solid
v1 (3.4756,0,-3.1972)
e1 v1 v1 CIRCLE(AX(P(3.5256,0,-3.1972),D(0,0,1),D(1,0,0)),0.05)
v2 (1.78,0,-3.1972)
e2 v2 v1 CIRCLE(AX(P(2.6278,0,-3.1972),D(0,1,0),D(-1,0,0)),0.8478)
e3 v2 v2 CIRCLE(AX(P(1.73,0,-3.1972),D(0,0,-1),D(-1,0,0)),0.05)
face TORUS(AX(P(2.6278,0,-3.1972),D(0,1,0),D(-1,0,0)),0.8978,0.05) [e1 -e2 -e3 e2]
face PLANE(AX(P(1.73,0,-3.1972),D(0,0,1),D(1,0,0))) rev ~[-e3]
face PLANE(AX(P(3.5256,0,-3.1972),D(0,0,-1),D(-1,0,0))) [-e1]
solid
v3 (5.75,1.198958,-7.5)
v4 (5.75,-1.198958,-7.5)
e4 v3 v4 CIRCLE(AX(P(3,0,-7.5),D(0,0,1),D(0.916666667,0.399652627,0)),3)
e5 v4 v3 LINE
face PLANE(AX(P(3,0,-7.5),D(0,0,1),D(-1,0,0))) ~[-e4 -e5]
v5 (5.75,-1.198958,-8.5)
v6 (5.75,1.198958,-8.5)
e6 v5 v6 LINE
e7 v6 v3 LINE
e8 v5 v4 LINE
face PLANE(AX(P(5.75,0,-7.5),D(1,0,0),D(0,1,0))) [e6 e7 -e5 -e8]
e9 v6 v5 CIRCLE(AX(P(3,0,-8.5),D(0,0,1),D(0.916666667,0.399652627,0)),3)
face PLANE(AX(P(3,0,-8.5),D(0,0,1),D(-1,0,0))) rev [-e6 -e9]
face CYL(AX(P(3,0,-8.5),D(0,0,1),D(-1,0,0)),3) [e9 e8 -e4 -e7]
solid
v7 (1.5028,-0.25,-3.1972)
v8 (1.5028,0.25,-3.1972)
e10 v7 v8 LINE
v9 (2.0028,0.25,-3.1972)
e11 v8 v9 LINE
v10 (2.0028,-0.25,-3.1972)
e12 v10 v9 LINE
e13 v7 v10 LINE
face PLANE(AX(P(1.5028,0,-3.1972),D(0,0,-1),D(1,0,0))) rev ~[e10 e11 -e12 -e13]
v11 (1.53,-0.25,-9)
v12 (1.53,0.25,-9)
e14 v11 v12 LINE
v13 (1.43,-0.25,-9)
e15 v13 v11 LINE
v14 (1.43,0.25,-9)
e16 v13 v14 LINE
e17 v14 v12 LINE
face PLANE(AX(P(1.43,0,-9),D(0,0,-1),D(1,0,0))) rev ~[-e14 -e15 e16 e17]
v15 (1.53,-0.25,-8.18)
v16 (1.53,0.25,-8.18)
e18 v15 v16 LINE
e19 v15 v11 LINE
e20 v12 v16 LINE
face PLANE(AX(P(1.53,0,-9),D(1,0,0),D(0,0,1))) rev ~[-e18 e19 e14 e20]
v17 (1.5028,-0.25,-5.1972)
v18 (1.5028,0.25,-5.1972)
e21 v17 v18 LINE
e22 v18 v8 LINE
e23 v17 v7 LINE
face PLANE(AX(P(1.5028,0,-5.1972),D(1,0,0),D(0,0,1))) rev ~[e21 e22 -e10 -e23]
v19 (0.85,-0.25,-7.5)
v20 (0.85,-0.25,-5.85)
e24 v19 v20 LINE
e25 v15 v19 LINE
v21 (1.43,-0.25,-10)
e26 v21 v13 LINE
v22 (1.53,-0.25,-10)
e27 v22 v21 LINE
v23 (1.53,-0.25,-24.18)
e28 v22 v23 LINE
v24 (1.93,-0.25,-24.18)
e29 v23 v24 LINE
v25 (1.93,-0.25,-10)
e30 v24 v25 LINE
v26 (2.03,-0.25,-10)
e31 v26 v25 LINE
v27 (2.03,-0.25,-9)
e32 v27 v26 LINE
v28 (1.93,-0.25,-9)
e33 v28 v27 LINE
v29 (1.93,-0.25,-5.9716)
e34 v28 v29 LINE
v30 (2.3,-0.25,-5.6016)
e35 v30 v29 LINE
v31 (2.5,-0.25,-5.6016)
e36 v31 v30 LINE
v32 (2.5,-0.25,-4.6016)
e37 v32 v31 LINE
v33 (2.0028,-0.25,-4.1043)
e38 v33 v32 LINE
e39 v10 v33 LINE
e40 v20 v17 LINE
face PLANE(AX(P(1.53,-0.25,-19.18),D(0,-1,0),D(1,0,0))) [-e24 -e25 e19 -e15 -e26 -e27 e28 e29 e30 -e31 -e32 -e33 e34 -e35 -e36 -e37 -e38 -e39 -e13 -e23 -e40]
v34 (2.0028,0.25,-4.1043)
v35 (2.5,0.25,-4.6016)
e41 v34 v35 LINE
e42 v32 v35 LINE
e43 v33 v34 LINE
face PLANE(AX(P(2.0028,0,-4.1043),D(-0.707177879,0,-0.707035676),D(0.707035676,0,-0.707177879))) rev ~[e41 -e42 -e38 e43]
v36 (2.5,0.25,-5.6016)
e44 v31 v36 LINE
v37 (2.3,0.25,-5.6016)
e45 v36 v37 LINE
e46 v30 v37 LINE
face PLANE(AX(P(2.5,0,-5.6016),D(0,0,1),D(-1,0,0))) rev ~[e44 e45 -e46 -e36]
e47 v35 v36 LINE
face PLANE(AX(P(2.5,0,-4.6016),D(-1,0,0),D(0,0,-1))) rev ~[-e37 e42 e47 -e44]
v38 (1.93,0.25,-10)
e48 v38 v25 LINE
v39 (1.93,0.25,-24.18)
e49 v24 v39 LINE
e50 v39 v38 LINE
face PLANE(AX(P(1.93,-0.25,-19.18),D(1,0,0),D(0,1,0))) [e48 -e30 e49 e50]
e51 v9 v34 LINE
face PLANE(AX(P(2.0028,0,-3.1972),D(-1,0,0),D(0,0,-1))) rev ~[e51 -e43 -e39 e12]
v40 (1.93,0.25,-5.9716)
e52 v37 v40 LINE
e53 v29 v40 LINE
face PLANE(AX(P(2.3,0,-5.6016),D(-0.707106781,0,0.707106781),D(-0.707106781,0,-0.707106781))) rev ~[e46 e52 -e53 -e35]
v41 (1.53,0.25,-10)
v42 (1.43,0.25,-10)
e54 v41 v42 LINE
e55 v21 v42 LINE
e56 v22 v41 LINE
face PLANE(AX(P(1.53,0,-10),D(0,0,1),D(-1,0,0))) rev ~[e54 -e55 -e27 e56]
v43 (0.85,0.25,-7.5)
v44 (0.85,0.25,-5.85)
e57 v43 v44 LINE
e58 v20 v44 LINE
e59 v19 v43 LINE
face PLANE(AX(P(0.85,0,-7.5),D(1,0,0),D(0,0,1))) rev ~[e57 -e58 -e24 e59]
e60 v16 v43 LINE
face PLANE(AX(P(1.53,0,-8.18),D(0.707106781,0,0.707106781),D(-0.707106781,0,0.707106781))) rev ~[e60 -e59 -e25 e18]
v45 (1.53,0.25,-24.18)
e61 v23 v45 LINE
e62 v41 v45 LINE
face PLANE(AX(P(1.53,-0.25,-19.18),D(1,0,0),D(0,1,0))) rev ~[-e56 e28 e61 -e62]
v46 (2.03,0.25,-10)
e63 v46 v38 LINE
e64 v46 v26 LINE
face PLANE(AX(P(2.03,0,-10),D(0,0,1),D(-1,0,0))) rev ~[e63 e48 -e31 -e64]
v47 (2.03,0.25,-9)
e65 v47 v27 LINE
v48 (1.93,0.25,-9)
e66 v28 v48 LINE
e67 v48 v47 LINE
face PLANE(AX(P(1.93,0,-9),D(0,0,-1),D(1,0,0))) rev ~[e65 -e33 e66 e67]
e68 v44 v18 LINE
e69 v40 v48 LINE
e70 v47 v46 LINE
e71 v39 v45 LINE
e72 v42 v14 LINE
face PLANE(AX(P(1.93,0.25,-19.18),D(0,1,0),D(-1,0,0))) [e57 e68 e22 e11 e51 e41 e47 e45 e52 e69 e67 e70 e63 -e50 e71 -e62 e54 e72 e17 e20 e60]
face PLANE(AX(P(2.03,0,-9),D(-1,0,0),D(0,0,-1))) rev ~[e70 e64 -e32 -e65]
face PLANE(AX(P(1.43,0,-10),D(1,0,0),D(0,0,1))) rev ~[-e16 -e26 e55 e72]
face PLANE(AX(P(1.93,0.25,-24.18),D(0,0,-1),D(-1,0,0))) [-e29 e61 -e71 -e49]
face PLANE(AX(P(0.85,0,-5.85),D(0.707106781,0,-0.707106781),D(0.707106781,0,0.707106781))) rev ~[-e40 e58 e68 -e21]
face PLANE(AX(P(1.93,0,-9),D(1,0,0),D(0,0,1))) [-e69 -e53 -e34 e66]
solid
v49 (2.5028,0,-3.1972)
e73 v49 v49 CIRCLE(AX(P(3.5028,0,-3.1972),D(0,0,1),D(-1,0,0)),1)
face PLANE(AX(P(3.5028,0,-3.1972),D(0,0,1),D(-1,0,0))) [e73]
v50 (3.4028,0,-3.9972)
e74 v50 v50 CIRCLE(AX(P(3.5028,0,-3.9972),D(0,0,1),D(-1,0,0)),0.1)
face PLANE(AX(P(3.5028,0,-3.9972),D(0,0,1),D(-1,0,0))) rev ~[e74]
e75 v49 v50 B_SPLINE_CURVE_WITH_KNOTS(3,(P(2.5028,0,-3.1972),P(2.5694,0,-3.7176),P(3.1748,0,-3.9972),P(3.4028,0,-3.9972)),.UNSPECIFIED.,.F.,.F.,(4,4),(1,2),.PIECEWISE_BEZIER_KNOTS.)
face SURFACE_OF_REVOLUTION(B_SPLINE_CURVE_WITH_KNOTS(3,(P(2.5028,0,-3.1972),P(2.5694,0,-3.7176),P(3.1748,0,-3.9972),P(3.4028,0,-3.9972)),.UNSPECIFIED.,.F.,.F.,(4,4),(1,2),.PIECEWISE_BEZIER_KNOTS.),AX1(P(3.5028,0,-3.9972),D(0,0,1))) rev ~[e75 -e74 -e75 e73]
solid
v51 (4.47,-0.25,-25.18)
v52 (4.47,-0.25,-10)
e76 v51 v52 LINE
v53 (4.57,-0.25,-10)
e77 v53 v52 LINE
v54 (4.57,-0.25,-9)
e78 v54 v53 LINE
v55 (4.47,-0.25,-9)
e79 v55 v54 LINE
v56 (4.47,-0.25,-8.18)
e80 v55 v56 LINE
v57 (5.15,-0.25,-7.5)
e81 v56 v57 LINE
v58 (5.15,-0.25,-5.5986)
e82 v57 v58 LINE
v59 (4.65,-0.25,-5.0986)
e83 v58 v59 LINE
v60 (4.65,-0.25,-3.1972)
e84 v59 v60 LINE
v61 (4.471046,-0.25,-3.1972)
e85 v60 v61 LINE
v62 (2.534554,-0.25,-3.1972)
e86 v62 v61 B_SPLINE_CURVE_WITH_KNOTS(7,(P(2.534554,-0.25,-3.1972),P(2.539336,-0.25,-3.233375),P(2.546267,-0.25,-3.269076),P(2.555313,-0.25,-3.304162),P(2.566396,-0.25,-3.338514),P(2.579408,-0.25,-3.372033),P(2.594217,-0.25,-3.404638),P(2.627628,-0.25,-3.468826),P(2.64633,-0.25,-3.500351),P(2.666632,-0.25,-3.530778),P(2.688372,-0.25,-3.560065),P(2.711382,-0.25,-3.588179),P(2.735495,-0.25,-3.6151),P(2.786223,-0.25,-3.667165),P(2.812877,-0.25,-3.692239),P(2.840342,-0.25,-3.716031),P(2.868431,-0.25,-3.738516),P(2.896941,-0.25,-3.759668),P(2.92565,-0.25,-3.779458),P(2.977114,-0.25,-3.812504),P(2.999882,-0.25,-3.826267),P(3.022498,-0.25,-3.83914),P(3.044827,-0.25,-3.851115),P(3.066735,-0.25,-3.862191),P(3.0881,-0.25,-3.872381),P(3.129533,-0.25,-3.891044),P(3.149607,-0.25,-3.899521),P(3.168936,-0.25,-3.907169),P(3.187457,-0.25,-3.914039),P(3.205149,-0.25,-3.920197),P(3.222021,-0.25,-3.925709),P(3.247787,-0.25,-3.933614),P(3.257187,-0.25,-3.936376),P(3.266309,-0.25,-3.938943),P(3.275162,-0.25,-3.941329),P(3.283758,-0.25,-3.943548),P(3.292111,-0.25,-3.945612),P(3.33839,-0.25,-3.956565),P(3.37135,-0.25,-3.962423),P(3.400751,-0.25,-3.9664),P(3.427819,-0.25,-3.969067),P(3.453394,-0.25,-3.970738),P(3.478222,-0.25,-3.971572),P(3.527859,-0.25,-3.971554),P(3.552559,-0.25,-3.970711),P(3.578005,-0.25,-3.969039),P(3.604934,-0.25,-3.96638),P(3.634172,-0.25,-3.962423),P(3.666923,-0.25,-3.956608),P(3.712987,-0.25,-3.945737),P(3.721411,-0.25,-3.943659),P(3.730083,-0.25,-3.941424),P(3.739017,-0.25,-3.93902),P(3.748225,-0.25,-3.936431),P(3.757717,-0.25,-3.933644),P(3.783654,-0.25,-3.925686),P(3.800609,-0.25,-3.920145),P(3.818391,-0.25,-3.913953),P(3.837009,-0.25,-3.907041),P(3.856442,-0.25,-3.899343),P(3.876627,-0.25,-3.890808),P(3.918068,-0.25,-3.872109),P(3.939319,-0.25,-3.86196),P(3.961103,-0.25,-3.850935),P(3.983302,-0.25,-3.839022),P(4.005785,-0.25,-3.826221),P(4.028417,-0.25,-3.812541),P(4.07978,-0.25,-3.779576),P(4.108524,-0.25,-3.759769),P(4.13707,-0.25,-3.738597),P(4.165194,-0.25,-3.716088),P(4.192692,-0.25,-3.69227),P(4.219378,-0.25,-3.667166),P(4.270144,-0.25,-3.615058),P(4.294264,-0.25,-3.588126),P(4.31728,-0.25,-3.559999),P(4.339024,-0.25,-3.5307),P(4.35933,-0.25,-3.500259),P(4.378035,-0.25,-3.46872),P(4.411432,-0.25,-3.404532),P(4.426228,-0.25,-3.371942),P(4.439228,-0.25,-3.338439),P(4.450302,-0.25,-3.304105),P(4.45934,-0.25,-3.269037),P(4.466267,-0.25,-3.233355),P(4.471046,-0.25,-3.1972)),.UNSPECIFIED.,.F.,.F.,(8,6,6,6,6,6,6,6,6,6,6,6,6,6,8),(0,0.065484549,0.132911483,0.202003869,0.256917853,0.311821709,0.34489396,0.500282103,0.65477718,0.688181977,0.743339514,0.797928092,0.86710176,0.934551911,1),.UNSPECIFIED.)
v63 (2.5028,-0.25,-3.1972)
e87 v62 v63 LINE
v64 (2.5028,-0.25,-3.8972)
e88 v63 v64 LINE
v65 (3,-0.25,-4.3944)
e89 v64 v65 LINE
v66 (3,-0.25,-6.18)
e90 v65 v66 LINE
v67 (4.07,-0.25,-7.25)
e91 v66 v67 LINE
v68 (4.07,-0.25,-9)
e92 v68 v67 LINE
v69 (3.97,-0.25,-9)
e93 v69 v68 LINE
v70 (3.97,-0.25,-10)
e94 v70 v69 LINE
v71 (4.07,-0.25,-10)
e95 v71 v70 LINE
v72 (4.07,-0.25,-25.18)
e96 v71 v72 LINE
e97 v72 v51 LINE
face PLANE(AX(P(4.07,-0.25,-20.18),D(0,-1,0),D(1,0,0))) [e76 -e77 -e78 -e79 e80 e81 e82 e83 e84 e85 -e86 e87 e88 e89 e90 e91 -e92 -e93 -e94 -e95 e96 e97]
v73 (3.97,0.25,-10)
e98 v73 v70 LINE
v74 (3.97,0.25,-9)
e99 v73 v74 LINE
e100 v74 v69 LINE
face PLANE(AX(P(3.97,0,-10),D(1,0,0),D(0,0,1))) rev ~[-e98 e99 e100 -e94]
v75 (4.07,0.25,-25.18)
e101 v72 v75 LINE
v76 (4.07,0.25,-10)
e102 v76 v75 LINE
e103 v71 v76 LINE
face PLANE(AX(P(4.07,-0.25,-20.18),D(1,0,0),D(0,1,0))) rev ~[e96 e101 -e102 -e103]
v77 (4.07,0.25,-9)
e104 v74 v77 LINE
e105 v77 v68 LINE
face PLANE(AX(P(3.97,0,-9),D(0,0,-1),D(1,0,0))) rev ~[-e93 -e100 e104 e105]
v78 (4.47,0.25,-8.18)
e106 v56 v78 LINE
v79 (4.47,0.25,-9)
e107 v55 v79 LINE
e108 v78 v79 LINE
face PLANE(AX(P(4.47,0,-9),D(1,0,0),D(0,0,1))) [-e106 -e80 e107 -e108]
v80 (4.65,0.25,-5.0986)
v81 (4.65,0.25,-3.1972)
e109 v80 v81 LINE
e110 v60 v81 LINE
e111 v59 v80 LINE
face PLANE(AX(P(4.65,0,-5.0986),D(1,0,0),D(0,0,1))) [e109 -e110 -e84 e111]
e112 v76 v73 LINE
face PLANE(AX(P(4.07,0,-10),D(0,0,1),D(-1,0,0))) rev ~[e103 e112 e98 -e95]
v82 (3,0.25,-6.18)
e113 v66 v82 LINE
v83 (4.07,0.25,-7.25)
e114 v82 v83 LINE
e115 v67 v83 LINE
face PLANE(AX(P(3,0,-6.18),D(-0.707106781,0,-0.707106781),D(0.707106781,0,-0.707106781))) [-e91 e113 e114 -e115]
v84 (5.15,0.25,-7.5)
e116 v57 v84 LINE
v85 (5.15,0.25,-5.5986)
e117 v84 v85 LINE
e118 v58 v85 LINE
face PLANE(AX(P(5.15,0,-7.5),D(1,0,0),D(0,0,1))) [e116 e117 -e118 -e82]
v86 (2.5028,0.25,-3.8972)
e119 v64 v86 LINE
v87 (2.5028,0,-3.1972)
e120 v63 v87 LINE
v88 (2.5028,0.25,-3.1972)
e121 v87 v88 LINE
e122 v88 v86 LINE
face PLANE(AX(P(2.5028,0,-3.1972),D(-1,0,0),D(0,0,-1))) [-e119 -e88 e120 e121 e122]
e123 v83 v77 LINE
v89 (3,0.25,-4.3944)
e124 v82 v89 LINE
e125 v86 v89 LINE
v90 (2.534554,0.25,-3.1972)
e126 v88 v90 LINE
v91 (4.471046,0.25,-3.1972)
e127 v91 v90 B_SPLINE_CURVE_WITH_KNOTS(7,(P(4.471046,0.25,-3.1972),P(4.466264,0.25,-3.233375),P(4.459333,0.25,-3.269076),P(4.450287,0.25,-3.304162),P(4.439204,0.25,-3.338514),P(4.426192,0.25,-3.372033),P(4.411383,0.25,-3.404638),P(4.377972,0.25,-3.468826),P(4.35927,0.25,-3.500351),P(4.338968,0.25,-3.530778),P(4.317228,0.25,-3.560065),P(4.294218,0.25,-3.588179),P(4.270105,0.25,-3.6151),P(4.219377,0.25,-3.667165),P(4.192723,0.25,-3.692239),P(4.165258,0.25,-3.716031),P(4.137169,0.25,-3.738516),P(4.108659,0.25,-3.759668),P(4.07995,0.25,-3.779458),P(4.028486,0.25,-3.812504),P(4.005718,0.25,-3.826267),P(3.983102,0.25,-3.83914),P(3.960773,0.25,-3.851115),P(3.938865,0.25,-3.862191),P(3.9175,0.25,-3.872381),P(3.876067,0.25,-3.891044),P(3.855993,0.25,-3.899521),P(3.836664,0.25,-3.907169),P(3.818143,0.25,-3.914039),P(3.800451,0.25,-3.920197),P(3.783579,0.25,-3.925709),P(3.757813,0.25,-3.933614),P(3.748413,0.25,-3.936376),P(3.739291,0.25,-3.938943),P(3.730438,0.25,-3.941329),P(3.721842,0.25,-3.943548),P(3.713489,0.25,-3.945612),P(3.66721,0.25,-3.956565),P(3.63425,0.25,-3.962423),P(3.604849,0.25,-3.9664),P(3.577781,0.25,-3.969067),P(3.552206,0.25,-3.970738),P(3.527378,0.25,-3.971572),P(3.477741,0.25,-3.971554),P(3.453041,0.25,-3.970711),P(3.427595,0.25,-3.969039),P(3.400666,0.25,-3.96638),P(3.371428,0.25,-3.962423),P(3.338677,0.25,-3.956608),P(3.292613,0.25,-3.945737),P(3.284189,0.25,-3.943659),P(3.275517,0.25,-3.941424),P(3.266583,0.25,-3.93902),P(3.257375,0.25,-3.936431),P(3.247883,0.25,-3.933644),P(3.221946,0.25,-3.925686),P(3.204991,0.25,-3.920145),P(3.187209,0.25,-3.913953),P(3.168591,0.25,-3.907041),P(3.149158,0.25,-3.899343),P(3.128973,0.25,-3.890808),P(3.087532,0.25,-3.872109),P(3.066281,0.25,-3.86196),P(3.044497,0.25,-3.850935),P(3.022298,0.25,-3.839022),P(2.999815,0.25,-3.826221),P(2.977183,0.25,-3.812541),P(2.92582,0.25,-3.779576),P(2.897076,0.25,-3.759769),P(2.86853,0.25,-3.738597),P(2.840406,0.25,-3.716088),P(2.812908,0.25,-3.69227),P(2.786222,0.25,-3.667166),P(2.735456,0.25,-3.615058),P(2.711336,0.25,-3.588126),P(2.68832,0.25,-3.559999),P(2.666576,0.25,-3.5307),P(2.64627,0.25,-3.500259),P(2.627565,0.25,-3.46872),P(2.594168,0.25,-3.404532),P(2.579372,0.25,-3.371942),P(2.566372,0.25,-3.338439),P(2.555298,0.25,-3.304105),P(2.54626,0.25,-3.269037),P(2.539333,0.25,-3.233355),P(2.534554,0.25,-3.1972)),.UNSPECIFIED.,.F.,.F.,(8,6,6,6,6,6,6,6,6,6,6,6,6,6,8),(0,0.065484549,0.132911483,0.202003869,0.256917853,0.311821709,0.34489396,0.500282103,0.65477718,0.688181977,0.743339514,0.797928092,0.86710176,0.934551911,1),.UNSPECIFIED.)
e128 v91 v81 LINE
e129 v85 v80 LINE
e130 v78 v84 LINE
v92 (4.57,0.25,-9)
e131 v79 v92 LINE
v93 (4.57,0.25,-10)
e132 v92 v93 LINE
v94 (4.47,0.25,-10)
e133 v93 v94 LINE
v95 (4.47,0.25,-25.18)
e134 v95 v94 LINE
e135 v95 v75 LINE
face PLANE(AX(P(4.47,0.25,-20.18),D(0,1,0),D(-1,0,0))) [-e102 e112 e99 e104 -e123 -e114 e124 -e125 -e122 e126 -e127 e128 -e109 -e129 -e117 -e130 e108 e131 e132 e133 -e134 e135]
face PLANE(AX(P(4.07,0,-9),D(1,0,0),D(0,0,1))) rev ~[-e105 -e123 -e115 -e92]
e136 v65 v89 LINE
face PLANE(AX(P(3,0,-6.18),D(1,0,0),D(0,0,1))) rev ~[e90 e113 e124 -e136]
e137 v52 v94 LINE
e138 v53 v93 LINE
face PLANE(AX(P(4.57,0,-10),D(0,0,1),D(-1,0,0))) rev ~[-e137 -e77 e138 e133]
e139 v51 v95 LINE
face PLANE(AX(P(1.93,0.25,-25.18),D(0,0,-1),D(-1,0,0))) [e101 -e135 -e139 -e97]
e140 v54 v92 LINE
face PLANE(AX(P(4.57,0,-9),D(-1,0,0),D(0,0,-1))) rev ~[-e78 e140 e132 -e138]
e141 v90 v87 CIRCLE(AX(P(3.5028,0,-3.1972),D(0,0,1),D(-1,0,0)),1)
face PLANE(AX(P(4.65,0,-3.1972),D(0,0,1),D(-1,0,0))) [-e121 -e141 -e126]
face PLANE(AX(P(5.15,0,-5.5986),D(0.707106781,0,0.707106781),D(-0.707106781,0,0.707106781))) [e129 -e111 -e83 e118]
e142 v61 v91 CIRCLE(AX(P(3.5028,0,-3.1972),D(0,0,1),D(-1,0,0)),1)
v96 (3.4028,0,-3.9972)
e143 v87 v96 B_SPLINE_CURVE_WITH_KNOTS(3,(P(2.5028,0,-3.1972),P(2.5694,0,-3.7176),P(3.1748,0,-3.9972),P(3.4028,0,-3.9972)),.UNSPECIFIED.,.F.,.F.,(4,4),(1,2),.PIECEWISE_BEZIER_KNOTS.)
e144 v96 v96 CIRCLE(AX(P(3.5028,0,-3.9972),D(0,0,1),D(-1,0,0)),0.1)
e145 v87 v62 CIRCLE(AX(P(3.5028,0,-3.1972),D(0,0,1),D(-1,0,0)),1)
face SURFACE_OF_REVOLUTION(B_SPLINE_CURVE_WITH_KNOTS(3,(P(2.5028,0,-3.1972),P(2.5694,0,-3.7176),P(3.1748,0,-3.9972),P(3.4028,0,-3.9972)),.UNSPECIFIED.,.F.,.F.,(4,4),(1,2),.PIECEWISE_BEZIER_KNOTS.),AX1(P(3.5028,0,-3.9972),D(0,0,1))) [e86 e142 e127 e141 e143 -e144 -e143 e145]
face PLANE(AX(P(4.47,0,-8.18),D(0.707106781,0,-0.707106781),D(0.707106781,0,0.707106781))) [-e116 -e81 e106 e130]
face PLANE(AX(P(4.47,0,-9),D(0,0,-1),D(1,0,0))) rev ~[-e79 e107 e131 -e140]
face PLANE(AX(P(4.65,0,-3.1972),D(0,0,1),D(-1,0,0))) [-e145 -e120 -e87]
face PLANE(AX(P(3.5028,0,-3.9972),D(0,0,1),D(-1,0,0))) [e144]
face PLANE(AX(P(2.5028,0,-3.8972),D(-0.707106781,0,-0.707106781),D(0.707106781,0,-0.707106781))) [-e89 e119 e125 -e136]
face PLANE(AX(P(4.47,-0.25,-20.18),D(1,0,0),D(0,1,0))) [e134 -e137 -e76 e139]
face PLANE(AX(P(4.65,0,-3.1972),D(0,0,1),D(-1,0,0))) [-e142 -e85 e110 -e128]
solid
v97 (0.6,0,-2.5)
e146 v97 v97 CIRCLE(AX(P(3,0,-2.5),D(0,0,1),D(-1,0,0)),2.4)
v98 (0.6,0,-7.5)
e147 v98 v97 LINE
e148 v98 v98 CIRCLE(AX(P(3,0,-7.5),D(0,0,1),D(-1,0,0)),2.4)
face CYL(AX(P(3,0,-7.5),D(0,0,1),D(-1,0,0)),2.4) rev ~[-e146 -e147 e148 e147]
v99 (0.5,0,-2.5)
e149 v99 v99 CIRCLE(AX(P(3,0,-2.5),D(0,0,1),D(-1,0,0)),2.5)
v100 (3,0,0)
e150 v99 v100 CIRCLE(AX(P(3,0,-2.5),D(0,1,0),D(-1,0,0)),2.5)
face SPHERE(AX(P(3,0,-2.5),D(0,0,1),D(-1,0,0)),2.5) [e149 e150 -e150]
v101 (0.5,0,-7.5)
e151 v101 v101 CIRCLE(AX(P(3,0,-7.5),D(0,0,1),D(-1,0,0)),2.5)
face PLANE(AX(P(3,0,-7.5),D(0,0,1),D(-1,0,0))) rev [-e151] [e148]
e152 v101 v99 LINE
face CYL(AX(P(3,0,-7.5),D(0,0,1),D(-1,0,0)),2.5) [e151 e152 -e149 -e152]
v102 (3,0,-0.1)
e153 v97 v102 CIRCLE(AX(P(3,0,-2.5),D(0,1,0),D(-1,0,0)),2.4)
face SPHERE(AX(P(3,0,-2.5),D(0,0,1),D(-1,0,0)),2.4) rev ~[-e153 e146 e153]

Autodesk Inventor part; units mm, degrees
ref_plane "YZ Plane" through (0, 0, 0) normal (1, 0, 0) x (0, 1, 0)
ref_plane "XZ Plane" through (0, 0, 0) normal (0, 1, 0) x (-1, 0, 0)
ref_plane "XY Plane" through (0, 0, 0) normal (0, 0, 1) x (1, 0, 0)
sketch "Sketch1" plane through (0, 0, 0) normal (0, 1, 0) x (-1, 0, 0)
  line L0 (-1.93, -19.18) -> (-1.53, -19.18)
  line L1 (-4.47, -20.18) -> (-4.07, -20.18)
  line L2 (-0.5, -2.5) -> (-5.5, -2.5) construction
  line L3 (-5.5, -2.5) -> (-5.5, -7.5)
  line L4 (-5.5, -7.5) -> (-0.5, -7.5)
  line L5 (-0.5, -7.5) -> (-0.5, -2.5)
  line L6 (0, -7.5) -> (-6, -7.5)
  line L7 (-6, -7.5) -> (-6, -8.5)
  line L8 (-6, -8.5) -> (0, -8.5)
  line L9 (0, -8.5) -> (0, -7.5)
  arc A0 (-0.5, -2.5) -> (-5.5, -2.5) centre (-3, -2.5) ccw
  line L10 (0, -24.216) -> (0, 4.0361) projected
  line L11 (17.1925, 0) -> (-9.8654, 0) projected
  line L12 (-3, -8.5) -> (-3, -19.8408) construction
  line L13 (-1.53, -19.18) -> (-1.53, -10)
  line L14 (-1.93, -19.18) -> (-1.93, -10)
  line L15 (-4.07, -20.18) -> (-4.07, -10)
  line L16 (-4.47, -20.18) -> (-4.47, -10)
  line L17 (-3, -8.5) -> (-3, 0)
  line L18 (-6, -19.8408) -> (0, -19.8408) construction
  line L19 (-1.43, -9) -> (-1.53, -9)
  line L20 (-2.03, -9) -> (-2.03, -10)
  line L21 (-2.03, -10) -> (-1.93, -10)
  line L22 (-1.43, -10) -> (-1.43, -9)
  line L23 (-3.97, -9) -> (-4.07, -9)
  line L24 (-4.57, -9) -> (-4.57, -10)
  line L25 (-4.57, -10) -> (-4.47, -10)
  line L26 (-3.97, -10) -> (-3.97, -9)
  line L27 (-1.93, -9) -> (-2.03, -9)
  line L28 (-4.07, -9) -> (-4.07, -7.25)
  line L29 (-4.47, -9) -> (-4.57, -9)
  line L30 (-4.07, -10) -> (-3.97, -10)
  line L31 (-1.53, -10) -> (-1.43, -10)
  line L32 (-4.47, -9) -> (-4.47, -8.18)
  line L33 (-1.93, -9) -> (-1.93, -5.9716)
  line L34 (-1.53, -9) -> (-1.53, -8.18)
  line L35 (-4.47, -8.18) -> (-5.15, -7.5)
  line L36 (-1.53, -8.18) -> (-0.85, -7.5)
  line L37 (-0.85, -7.5) -> (-0.85, -5.85)
  line L38 (-5.15, -7.5) -> (-5.15, -5.5986)
  line L39 (-5.15, -5.5986) -> (-4.65, -5.0986)
  line L40 (-4.65, -5.0986) -> (-4.65, -3.1972)
  line L41 (-4.65, -3.1972) -> (-2.5028, -3.1972)
  line L42 (-0.85, -5.85) -> (-1.5028, -5.1972)
  line L43 (-1.5028, -5.1972) -> (-1.5028, -3.1972)
  line L44 (-1.5028, -3.1972) -> (-2.0028, -3.1972)
  line L45 (-2.0028, -3.1972) -> (-2.0028, -4.1043)
  line L46 (-2.0028, -4.1043) -> (-2.5, -4.6016)
  line L47 (-2.5, -4.6016) -> (-2.5, -5.6016)
  line L48 (-2.5, -5.6016) -> (-2.3, -5.6016)
  line L49 (-2.3, -5.6016) -> (-1.93, -5.9716)
  line L50 (8.8309, -12.5892) -> (8.8309, -17.0713)
  line L51 (8.7309, -12.5892) -> (8.8309, -12.5892)
  line L52 (8.8309, -17.0713) -> (9.3309, -17.0713)
  line L53 (9.3309, -17.0713) -> (9.3309, -12.5892)
  line L54 (11.3309, -18.2444) -> (11.8309, -18.2444)
  line L55 (11.3309, -12.5815) -> (11.3309, -18.2444)
  line L56 (11.8309, -18.2444) -> (11.8309, -12.5815)
  line L57 (8.2266, -6.0537) -> (8.2266, -7.4999)
  line L58 (8.5861, -5.6941) -> (8.2266, -6.0537)
  line L59 (8.5861, -4.3452) -> (8.5861, -5.6941)
  line L60 (8.2266, -7.4999) -> (8.8309, -8.1043)
  line L61 (9.3309, -7.3282) -> (9.7365, -6.9226)
  line L62 (9.7365, -6.9226) -> (10.3309, -6.9226)
  line L63 (10.3309, -6.9226) -> (10.3309, -5.844)
  line L64 (8.5861, -4.3452) -> (11.2106, -4.3452)
  line L65 (10.8309, -6.0512) -> (10.8309, -6.9149)
  line L66 (10.8309, -6.9149) -> (11.1527, -6.9149)
  line L67 (11.2393, -4.3452) -> (11.2106, -4.3452)
  line L68 (11.1527, -6.9149) -> (11.3309, -7.0932)
  line L69 (11.8309, -8.0966) -> (12.4276, -7.4999)
  line L70 (12.4276, -7.4999) -> (12.4276, -5.8553)
  line L71 (9.4309, -11.5892) -> (9.3309, -11.5892)
  line L72 (11.8309, -11.5815) -> (11.8309, -8.0966)
  line L73 (8.8309, -8.1043) -> (8.8309, -11.5892)
  line L74 (11.3309, -7.0932) -> (11.3309, -11.5815)
  line L75 (9.3309, -11.5892) -> (9.3309, -7.3282)
  line L76 (10.3309, -5.844) -> (11.2106, -4.9643)
  line L77 (11.7107, -5.1714) -> (10.8309, -6.0512)
  line L78 (11.2106, -4.3452) -> (11.2393, -4.3452) construction
  line L79 (12.4276, -5.8553) -> (12.2082, -5.6359)
  line L80 (11.2106, -4.2719) -> (11.2106, -4.3452)
  line L81 (11.2106, -4.9643) -> (11.2106, -4.2719)
  line L82 (11.2106, -4.2719) -> (11.2393, -4.3452)
  line L83 (11.7107, -4.3453) -> (11.7107, -5.1714)
  line L84 (10.8445, -3.7709) -> (11.3445, -3.7709) construction
  spline S0 degree 3 poles (11.9954, -4.3997) (11.9862, -4.3486) (11.9578, -4.2521) (11.8889, -4.1254) (11.7974, -4.0171) (11.6749, -3.9177) (11.5186, -3.8358) (11.3301, -3.782) (11.1322, -3.7647) (10.9338, -3.7851) (10.7437, -3.8443) (10.5851, -3.9352) (10.4598, -4.0478) (10.3654, -4.1727) (10.2931, -4.3216) (10.262, -4.4371) (10.2513, -4.4991) knots 0 0 0 0 0.0625 0.125 0.1875 0.25 0.333333 0.416667 0.5 0.583333 0.666667 0.75 0.8125 0.875 0.9375 1 1 1 1
  line L85 (12.2082, -4.3453) -> (11.7107, -4.3453)
  line L86 (12.2082, -5.6359) -> (12.2082, -4.3453)
  line L87 (9.3309, -12.5892) -> (9.4309, -12.5892)
  line L88 (11.2309, -12.5815) -> (11.3309, -12.5815)
  line L89 (11.8309, -12.5815) -> (11.9309, -12.5815)
  line L90 (8.7309, -11.5892) -> (8.7309, -12.5892)
  line L91 (8.8309, -11.5892) -> (8.7309, -11.5892)
  line L92 (9.4309, -12.5892) -> (9.4309, -11.5892)
  line L93 (11.3309, -11.5815) -> (11.2309, -11.5815)
  line L94 (11.2309, -11.5815) -> (11.2309, -12.5815)
  line L95 (11.9309, -12.5815) -> (11.9309, -11.5815)
  line L96 (11.9309, -11.5815) -> (11.8309, -11.5815)
  line L97 (13.3271, -7.4999) -> (7.3271, -7.4999)
  line L98 (7.3271, -7.4999) -> (7.3271, -8.4999)
  line L99 (7.3271, -8.4999) -> (13.3271, -8.4999)
  line L100 (13.3271, -8.4999) -> (13.3271, -7.4999)
  line L101 (12.4276, -7.4999) -> (8.2266, -7.4999)
  line L102 (12.8271, -7.4999) -> (7.8271, -7.4999)
  line L103 (7.8271, -7.4999) -> (7.8271, -2.4999)
  line L104 (7.8271, -2.4999) -> (12.8271, -2.4999) construction
  line L105 (12.8271, -2.4999) -> (12.8271, -7.4999)
  arc A1 (12.8271, -2.4999) -> (7.8271, -2.4999) centre (10.3271, -2.4999) ccw
  line L106 (-2.5028, -3.1972) -> (-2.5028, -3.8972)
  line L107 (-2.5028, -3.8972) -> (-3, -4.3944)
  line L108 (-3, -4.3944) -> (-3, -5.9975)
  line L109 (-3, -6.18) -> (-4.07, -7.25)
  line L110 (-2.5028, -3.1972) -> (-2.0028, -3.1972) construction
  line L111 (-2.5, -5.6016) -> (-3, -5.9975) construction
  point P0 (0, 0)
  point P1 (-3, -7.5)
  point P2 (0, -8)
  point P3 (-1.73, -19.18)
  point P4 (-4.27, -20.18)
  point P5 (-3, -7.5)
  point P6 (0, 0)
  point P7 (7.8271, -7.4999)
  point P8 (10.3271, -7.4999)
  point P9 (-3, -5.196)
  point P10 (-3, -4.3944)
  point P11 (-3, -3.1972)
  dimension "d10" = 5
  dimension "d12" = 6
  dimension "d13" = 5
  dimension "d14" = 6
  dimension "Jarak_Kaki" = 2.54
  dimension "d18" = 1
  dimension "d19" = 0.4
  dimension "d20" = 1.27
  dimension "Panjang_Kaki" = 12
  dimension "d30" = 0.6
  dimension "d31" = 1
  dimension "d32" = 0.5
  dimension "d34" = 135
  dimension "d35" = 0.35
  dimension "d51" = 0.5
  dimension "d76" = 1.65
  dimension "d82" = 2.5
  dimension "d83" = 0.5
  dimension "d84" = 0.5
  dimension "d85" = 1
  dimension "d86" = 0.5
  dimension "d87" = 0.5
  dimension "d89" = 0.7
  dimension "d92" = 0.5
  dimension "d93" = 0.25
  dimension "d95" = 1
  dimension "d104" = 0.2
  dimension "d106" = 2
revolve "Revolution1" add sketch "Sketch1" angle 360 about axis through (3, 0, -8.5) along (0, 0, 1) contours L33 L49 L48 L47 L46 L45 L44 L43 L42 L37 L4 | L4 L17 L107 L106 L41 A0 L5 L37 L42 L43 L44 L45 L46 L47 L48 L49 L33 | L17 L41 L106 L107
shell "Shell1" thickness 0.1 removed faces 1 at (3.6238, -0.5526, -7.5)
revolve "Revolution2" add sketch "Sketch1" angle 360 about axis through (3, 0, -8.5) along (0, 0, 1) separate body contours L33 L4 L36 L34 L8 | L8 L17 L4 L33 | L34 L36 L4 L6 L9 L8
sketch "Sketch2" plane through (3, 0, -7.5) normal (0, 0, 1) x (1, 0, 0)
  line L0 (2.75, 2.5) -> (3.75, 2.5)
  line L1 (3.75, 2.5) -> (3.75, -2.5)
  line L2 (3.75, -2.5) -> (2.75, -2.5)
  line L3 (2.75, -2.5) -> (2.75, 2.5)
  circle A0 centre (0, 0) radius 2.5 projected
  circle A1 centre (0, 0) radius 2.5 projected
  line L4 (-3, -4.2) -> (-3, 4.2) construction
  line L5 (2.5, -1.6681) -> (2.5, 1.3873) construction
  line L6 (-4.368, 0) -> (5.2078, 0) projected
  point P0 (-3, 0)
  point P1 (2.75, 0)
  dimension "d110" = 0.25
  dimension "d111" = 5
  dimension "d112" = 1
extrude "Extrusion1" cut sketch "Sketch2" against normal up to next contours L0 L1 L6 L3 | L6 L1 L2 L3 bodies 2
extrude "Extrusion2" add sketch "Sketch1" along normal mid plane 0.5 separate body contours L14 L21 L20 L27 L33 L8 L34 L19 L22 L31 L13 L0 | L33 L4 L36 L34 L8 | L33 L49 L48 L47 L46 L45 L44 L43 L42 L37 L4 | L28 L23 L26 L30 L15 L1 L16 L25 L24 L29 L32 L8 | L8 L32 L35 L4 L28 | L4 L38 L39 L40 L41 L17 L109 L28 | L17 L41 L106 L107
sketch "Sketch3" plane through (2.4, 0, -4) normal (0, 1, 0) x (1, 0, 0)
  line L0 (0.1028, -0.1028) -> (0.1028, -0.8028) projected
  line L1 (0.1028, -0.8028) -> (0.1694, -0.2824) construction
  line L2 (0.1694, -0.2824) -> (0.7748, -0.0028) construction
  line L3 (0.7748, -0.0028) -> (1.0028, -0.0028) construction
  spline S0 degree 3 poles (0.1028, -0.8028) (0.1694, -0.2824) (0.7748, -0.0028) (1.0028, -0.0028) knots 1 1 1 1 2 2 2 2
  line L4 (0.1028, -0.8028) -> (2.25, -0.8028) projected
  line L5 (1.0028, -0.0028) -> (1.1028, -0.0028)
  line L6 (1.1028, -0.0028) -> (1.1028, -0.8028)
  dimension "d99" = 0.8
  dimension "d100" = 0.9
  dimension "d101" = 0.1
revolve "Revolution3" cut sketch "Sketch3" angle 360 about axis through (3.5028, 0, -3.9972) along (0, 0, 1) bodies 3
revolve "Revolution4" add sketch "Sketch3" angle 360 about axis through (3.5028, 0, -3.9972) along (0, 0, 1) separate body
sketch "Sketch4" plane through (3.5028, 0, -3.1972) normal (0, 0, 1) x (1, 0, 0)
  circle A0 centre (-1.7728, 0) radius 0.05
  line L0 (-2, -0.25) -> (-2, 0.25) construction
  line L1 (-2, 0.25) -> (-1.5, 0.25) construction
  line L2 (-1.5728, 0.25) -> (-1.9728, 0.25) construction
  line L3 (-2, 0) -> (-1.7728, 0) construction
  line L4 (-1.7728, 0) -> (-1.7728, 0.25) construction
  line L5 (-1.7728, 0.25) -> (-2, 0.25) construction
  line L6 (-2, 0.25) -> (-2, 0) construction
  circle A1 centre (0, 0) radius 0.05
  point P0 (-3.5028, 0)
  dimension "d109" = 0.1
sketch "Sketch5" plane through (0, 0, 0) normal (0, 1, 0) x (-1, 0, 0)
  line L0 (-5.5, -2.5) -> (-0.5, -2.5) construction
  line L1 (-5.5, -7.5) -> (-0.5, -7.5) construction
  line L2 (-1.5028, -3.1972) -> (-2.0028, -3.1972) construction
  line L3 (-4.5028, -3.1972) -> (-2.5028, -3.1972) construction
  line L4 (-1.7528, -3.1972) -> (-3.5028, -3.1972) construction
  arc A0 (-1.7528, -3.1972) -> (-3.5028, -3.1972) centre (-2.6278, -3.1972) ccw
  point P0 (0, 0)
sweep "Sweep1" add profiles "Sketch4" path "Sketch5" separate body contours A0
sketch "Skizze8" plane through (1.93, 0.25, -19.18) normal (0, 0, -1) x (-1, 0, 0)
  line L0 (0.4, -0.5) -> (0.4, 0) projected
  line L1 (0, 0) -> (0.4, 0) projected
  line L2 (0, -0.5) -> (0, 0) projected
  line L3 (0.4, -0.5) -> (0, -0.5) projected
  line L4 (-2.14, -0.5) -> (-2.14, 0) projected
  line L5 (-2.54, 0) -> (-2.14, 0) projected
  line L6 (-2.54, -0.5) -> (-2.54, 0) projected
  line L7 (-2.14, -0.5) -> (-2.54, -0.5) projected
  point P0 (1.93, -0.25)
  point P1 (0.2, -0.25)
  point P2 (-2.34, -0.25)
  point P3 (0.2, -0.5)
  point P4 (-2.34, -0.5)
  point P5 (0.4, -0.25)
  point P6 (-2.14, -0.25)
extrude "Extrusion3" add sketch "Skizze8" along normal blind 5 contours L3 L2 L1 L0 bodies 3
extrude "Extrusion4" add sketch "Skizze8" along normal blind 5 from surface at 1 contours L7 L6 L5 L4 bodies 3
equation "\"d10\" = Diameter_Led"
equation "\"d13\" = Diameter_Led"
equation "\"d20\" = 0.5 * Jarak_Kaki"
equation "\"Diameter_Led\" = 5"
properties part number "LED - green"
